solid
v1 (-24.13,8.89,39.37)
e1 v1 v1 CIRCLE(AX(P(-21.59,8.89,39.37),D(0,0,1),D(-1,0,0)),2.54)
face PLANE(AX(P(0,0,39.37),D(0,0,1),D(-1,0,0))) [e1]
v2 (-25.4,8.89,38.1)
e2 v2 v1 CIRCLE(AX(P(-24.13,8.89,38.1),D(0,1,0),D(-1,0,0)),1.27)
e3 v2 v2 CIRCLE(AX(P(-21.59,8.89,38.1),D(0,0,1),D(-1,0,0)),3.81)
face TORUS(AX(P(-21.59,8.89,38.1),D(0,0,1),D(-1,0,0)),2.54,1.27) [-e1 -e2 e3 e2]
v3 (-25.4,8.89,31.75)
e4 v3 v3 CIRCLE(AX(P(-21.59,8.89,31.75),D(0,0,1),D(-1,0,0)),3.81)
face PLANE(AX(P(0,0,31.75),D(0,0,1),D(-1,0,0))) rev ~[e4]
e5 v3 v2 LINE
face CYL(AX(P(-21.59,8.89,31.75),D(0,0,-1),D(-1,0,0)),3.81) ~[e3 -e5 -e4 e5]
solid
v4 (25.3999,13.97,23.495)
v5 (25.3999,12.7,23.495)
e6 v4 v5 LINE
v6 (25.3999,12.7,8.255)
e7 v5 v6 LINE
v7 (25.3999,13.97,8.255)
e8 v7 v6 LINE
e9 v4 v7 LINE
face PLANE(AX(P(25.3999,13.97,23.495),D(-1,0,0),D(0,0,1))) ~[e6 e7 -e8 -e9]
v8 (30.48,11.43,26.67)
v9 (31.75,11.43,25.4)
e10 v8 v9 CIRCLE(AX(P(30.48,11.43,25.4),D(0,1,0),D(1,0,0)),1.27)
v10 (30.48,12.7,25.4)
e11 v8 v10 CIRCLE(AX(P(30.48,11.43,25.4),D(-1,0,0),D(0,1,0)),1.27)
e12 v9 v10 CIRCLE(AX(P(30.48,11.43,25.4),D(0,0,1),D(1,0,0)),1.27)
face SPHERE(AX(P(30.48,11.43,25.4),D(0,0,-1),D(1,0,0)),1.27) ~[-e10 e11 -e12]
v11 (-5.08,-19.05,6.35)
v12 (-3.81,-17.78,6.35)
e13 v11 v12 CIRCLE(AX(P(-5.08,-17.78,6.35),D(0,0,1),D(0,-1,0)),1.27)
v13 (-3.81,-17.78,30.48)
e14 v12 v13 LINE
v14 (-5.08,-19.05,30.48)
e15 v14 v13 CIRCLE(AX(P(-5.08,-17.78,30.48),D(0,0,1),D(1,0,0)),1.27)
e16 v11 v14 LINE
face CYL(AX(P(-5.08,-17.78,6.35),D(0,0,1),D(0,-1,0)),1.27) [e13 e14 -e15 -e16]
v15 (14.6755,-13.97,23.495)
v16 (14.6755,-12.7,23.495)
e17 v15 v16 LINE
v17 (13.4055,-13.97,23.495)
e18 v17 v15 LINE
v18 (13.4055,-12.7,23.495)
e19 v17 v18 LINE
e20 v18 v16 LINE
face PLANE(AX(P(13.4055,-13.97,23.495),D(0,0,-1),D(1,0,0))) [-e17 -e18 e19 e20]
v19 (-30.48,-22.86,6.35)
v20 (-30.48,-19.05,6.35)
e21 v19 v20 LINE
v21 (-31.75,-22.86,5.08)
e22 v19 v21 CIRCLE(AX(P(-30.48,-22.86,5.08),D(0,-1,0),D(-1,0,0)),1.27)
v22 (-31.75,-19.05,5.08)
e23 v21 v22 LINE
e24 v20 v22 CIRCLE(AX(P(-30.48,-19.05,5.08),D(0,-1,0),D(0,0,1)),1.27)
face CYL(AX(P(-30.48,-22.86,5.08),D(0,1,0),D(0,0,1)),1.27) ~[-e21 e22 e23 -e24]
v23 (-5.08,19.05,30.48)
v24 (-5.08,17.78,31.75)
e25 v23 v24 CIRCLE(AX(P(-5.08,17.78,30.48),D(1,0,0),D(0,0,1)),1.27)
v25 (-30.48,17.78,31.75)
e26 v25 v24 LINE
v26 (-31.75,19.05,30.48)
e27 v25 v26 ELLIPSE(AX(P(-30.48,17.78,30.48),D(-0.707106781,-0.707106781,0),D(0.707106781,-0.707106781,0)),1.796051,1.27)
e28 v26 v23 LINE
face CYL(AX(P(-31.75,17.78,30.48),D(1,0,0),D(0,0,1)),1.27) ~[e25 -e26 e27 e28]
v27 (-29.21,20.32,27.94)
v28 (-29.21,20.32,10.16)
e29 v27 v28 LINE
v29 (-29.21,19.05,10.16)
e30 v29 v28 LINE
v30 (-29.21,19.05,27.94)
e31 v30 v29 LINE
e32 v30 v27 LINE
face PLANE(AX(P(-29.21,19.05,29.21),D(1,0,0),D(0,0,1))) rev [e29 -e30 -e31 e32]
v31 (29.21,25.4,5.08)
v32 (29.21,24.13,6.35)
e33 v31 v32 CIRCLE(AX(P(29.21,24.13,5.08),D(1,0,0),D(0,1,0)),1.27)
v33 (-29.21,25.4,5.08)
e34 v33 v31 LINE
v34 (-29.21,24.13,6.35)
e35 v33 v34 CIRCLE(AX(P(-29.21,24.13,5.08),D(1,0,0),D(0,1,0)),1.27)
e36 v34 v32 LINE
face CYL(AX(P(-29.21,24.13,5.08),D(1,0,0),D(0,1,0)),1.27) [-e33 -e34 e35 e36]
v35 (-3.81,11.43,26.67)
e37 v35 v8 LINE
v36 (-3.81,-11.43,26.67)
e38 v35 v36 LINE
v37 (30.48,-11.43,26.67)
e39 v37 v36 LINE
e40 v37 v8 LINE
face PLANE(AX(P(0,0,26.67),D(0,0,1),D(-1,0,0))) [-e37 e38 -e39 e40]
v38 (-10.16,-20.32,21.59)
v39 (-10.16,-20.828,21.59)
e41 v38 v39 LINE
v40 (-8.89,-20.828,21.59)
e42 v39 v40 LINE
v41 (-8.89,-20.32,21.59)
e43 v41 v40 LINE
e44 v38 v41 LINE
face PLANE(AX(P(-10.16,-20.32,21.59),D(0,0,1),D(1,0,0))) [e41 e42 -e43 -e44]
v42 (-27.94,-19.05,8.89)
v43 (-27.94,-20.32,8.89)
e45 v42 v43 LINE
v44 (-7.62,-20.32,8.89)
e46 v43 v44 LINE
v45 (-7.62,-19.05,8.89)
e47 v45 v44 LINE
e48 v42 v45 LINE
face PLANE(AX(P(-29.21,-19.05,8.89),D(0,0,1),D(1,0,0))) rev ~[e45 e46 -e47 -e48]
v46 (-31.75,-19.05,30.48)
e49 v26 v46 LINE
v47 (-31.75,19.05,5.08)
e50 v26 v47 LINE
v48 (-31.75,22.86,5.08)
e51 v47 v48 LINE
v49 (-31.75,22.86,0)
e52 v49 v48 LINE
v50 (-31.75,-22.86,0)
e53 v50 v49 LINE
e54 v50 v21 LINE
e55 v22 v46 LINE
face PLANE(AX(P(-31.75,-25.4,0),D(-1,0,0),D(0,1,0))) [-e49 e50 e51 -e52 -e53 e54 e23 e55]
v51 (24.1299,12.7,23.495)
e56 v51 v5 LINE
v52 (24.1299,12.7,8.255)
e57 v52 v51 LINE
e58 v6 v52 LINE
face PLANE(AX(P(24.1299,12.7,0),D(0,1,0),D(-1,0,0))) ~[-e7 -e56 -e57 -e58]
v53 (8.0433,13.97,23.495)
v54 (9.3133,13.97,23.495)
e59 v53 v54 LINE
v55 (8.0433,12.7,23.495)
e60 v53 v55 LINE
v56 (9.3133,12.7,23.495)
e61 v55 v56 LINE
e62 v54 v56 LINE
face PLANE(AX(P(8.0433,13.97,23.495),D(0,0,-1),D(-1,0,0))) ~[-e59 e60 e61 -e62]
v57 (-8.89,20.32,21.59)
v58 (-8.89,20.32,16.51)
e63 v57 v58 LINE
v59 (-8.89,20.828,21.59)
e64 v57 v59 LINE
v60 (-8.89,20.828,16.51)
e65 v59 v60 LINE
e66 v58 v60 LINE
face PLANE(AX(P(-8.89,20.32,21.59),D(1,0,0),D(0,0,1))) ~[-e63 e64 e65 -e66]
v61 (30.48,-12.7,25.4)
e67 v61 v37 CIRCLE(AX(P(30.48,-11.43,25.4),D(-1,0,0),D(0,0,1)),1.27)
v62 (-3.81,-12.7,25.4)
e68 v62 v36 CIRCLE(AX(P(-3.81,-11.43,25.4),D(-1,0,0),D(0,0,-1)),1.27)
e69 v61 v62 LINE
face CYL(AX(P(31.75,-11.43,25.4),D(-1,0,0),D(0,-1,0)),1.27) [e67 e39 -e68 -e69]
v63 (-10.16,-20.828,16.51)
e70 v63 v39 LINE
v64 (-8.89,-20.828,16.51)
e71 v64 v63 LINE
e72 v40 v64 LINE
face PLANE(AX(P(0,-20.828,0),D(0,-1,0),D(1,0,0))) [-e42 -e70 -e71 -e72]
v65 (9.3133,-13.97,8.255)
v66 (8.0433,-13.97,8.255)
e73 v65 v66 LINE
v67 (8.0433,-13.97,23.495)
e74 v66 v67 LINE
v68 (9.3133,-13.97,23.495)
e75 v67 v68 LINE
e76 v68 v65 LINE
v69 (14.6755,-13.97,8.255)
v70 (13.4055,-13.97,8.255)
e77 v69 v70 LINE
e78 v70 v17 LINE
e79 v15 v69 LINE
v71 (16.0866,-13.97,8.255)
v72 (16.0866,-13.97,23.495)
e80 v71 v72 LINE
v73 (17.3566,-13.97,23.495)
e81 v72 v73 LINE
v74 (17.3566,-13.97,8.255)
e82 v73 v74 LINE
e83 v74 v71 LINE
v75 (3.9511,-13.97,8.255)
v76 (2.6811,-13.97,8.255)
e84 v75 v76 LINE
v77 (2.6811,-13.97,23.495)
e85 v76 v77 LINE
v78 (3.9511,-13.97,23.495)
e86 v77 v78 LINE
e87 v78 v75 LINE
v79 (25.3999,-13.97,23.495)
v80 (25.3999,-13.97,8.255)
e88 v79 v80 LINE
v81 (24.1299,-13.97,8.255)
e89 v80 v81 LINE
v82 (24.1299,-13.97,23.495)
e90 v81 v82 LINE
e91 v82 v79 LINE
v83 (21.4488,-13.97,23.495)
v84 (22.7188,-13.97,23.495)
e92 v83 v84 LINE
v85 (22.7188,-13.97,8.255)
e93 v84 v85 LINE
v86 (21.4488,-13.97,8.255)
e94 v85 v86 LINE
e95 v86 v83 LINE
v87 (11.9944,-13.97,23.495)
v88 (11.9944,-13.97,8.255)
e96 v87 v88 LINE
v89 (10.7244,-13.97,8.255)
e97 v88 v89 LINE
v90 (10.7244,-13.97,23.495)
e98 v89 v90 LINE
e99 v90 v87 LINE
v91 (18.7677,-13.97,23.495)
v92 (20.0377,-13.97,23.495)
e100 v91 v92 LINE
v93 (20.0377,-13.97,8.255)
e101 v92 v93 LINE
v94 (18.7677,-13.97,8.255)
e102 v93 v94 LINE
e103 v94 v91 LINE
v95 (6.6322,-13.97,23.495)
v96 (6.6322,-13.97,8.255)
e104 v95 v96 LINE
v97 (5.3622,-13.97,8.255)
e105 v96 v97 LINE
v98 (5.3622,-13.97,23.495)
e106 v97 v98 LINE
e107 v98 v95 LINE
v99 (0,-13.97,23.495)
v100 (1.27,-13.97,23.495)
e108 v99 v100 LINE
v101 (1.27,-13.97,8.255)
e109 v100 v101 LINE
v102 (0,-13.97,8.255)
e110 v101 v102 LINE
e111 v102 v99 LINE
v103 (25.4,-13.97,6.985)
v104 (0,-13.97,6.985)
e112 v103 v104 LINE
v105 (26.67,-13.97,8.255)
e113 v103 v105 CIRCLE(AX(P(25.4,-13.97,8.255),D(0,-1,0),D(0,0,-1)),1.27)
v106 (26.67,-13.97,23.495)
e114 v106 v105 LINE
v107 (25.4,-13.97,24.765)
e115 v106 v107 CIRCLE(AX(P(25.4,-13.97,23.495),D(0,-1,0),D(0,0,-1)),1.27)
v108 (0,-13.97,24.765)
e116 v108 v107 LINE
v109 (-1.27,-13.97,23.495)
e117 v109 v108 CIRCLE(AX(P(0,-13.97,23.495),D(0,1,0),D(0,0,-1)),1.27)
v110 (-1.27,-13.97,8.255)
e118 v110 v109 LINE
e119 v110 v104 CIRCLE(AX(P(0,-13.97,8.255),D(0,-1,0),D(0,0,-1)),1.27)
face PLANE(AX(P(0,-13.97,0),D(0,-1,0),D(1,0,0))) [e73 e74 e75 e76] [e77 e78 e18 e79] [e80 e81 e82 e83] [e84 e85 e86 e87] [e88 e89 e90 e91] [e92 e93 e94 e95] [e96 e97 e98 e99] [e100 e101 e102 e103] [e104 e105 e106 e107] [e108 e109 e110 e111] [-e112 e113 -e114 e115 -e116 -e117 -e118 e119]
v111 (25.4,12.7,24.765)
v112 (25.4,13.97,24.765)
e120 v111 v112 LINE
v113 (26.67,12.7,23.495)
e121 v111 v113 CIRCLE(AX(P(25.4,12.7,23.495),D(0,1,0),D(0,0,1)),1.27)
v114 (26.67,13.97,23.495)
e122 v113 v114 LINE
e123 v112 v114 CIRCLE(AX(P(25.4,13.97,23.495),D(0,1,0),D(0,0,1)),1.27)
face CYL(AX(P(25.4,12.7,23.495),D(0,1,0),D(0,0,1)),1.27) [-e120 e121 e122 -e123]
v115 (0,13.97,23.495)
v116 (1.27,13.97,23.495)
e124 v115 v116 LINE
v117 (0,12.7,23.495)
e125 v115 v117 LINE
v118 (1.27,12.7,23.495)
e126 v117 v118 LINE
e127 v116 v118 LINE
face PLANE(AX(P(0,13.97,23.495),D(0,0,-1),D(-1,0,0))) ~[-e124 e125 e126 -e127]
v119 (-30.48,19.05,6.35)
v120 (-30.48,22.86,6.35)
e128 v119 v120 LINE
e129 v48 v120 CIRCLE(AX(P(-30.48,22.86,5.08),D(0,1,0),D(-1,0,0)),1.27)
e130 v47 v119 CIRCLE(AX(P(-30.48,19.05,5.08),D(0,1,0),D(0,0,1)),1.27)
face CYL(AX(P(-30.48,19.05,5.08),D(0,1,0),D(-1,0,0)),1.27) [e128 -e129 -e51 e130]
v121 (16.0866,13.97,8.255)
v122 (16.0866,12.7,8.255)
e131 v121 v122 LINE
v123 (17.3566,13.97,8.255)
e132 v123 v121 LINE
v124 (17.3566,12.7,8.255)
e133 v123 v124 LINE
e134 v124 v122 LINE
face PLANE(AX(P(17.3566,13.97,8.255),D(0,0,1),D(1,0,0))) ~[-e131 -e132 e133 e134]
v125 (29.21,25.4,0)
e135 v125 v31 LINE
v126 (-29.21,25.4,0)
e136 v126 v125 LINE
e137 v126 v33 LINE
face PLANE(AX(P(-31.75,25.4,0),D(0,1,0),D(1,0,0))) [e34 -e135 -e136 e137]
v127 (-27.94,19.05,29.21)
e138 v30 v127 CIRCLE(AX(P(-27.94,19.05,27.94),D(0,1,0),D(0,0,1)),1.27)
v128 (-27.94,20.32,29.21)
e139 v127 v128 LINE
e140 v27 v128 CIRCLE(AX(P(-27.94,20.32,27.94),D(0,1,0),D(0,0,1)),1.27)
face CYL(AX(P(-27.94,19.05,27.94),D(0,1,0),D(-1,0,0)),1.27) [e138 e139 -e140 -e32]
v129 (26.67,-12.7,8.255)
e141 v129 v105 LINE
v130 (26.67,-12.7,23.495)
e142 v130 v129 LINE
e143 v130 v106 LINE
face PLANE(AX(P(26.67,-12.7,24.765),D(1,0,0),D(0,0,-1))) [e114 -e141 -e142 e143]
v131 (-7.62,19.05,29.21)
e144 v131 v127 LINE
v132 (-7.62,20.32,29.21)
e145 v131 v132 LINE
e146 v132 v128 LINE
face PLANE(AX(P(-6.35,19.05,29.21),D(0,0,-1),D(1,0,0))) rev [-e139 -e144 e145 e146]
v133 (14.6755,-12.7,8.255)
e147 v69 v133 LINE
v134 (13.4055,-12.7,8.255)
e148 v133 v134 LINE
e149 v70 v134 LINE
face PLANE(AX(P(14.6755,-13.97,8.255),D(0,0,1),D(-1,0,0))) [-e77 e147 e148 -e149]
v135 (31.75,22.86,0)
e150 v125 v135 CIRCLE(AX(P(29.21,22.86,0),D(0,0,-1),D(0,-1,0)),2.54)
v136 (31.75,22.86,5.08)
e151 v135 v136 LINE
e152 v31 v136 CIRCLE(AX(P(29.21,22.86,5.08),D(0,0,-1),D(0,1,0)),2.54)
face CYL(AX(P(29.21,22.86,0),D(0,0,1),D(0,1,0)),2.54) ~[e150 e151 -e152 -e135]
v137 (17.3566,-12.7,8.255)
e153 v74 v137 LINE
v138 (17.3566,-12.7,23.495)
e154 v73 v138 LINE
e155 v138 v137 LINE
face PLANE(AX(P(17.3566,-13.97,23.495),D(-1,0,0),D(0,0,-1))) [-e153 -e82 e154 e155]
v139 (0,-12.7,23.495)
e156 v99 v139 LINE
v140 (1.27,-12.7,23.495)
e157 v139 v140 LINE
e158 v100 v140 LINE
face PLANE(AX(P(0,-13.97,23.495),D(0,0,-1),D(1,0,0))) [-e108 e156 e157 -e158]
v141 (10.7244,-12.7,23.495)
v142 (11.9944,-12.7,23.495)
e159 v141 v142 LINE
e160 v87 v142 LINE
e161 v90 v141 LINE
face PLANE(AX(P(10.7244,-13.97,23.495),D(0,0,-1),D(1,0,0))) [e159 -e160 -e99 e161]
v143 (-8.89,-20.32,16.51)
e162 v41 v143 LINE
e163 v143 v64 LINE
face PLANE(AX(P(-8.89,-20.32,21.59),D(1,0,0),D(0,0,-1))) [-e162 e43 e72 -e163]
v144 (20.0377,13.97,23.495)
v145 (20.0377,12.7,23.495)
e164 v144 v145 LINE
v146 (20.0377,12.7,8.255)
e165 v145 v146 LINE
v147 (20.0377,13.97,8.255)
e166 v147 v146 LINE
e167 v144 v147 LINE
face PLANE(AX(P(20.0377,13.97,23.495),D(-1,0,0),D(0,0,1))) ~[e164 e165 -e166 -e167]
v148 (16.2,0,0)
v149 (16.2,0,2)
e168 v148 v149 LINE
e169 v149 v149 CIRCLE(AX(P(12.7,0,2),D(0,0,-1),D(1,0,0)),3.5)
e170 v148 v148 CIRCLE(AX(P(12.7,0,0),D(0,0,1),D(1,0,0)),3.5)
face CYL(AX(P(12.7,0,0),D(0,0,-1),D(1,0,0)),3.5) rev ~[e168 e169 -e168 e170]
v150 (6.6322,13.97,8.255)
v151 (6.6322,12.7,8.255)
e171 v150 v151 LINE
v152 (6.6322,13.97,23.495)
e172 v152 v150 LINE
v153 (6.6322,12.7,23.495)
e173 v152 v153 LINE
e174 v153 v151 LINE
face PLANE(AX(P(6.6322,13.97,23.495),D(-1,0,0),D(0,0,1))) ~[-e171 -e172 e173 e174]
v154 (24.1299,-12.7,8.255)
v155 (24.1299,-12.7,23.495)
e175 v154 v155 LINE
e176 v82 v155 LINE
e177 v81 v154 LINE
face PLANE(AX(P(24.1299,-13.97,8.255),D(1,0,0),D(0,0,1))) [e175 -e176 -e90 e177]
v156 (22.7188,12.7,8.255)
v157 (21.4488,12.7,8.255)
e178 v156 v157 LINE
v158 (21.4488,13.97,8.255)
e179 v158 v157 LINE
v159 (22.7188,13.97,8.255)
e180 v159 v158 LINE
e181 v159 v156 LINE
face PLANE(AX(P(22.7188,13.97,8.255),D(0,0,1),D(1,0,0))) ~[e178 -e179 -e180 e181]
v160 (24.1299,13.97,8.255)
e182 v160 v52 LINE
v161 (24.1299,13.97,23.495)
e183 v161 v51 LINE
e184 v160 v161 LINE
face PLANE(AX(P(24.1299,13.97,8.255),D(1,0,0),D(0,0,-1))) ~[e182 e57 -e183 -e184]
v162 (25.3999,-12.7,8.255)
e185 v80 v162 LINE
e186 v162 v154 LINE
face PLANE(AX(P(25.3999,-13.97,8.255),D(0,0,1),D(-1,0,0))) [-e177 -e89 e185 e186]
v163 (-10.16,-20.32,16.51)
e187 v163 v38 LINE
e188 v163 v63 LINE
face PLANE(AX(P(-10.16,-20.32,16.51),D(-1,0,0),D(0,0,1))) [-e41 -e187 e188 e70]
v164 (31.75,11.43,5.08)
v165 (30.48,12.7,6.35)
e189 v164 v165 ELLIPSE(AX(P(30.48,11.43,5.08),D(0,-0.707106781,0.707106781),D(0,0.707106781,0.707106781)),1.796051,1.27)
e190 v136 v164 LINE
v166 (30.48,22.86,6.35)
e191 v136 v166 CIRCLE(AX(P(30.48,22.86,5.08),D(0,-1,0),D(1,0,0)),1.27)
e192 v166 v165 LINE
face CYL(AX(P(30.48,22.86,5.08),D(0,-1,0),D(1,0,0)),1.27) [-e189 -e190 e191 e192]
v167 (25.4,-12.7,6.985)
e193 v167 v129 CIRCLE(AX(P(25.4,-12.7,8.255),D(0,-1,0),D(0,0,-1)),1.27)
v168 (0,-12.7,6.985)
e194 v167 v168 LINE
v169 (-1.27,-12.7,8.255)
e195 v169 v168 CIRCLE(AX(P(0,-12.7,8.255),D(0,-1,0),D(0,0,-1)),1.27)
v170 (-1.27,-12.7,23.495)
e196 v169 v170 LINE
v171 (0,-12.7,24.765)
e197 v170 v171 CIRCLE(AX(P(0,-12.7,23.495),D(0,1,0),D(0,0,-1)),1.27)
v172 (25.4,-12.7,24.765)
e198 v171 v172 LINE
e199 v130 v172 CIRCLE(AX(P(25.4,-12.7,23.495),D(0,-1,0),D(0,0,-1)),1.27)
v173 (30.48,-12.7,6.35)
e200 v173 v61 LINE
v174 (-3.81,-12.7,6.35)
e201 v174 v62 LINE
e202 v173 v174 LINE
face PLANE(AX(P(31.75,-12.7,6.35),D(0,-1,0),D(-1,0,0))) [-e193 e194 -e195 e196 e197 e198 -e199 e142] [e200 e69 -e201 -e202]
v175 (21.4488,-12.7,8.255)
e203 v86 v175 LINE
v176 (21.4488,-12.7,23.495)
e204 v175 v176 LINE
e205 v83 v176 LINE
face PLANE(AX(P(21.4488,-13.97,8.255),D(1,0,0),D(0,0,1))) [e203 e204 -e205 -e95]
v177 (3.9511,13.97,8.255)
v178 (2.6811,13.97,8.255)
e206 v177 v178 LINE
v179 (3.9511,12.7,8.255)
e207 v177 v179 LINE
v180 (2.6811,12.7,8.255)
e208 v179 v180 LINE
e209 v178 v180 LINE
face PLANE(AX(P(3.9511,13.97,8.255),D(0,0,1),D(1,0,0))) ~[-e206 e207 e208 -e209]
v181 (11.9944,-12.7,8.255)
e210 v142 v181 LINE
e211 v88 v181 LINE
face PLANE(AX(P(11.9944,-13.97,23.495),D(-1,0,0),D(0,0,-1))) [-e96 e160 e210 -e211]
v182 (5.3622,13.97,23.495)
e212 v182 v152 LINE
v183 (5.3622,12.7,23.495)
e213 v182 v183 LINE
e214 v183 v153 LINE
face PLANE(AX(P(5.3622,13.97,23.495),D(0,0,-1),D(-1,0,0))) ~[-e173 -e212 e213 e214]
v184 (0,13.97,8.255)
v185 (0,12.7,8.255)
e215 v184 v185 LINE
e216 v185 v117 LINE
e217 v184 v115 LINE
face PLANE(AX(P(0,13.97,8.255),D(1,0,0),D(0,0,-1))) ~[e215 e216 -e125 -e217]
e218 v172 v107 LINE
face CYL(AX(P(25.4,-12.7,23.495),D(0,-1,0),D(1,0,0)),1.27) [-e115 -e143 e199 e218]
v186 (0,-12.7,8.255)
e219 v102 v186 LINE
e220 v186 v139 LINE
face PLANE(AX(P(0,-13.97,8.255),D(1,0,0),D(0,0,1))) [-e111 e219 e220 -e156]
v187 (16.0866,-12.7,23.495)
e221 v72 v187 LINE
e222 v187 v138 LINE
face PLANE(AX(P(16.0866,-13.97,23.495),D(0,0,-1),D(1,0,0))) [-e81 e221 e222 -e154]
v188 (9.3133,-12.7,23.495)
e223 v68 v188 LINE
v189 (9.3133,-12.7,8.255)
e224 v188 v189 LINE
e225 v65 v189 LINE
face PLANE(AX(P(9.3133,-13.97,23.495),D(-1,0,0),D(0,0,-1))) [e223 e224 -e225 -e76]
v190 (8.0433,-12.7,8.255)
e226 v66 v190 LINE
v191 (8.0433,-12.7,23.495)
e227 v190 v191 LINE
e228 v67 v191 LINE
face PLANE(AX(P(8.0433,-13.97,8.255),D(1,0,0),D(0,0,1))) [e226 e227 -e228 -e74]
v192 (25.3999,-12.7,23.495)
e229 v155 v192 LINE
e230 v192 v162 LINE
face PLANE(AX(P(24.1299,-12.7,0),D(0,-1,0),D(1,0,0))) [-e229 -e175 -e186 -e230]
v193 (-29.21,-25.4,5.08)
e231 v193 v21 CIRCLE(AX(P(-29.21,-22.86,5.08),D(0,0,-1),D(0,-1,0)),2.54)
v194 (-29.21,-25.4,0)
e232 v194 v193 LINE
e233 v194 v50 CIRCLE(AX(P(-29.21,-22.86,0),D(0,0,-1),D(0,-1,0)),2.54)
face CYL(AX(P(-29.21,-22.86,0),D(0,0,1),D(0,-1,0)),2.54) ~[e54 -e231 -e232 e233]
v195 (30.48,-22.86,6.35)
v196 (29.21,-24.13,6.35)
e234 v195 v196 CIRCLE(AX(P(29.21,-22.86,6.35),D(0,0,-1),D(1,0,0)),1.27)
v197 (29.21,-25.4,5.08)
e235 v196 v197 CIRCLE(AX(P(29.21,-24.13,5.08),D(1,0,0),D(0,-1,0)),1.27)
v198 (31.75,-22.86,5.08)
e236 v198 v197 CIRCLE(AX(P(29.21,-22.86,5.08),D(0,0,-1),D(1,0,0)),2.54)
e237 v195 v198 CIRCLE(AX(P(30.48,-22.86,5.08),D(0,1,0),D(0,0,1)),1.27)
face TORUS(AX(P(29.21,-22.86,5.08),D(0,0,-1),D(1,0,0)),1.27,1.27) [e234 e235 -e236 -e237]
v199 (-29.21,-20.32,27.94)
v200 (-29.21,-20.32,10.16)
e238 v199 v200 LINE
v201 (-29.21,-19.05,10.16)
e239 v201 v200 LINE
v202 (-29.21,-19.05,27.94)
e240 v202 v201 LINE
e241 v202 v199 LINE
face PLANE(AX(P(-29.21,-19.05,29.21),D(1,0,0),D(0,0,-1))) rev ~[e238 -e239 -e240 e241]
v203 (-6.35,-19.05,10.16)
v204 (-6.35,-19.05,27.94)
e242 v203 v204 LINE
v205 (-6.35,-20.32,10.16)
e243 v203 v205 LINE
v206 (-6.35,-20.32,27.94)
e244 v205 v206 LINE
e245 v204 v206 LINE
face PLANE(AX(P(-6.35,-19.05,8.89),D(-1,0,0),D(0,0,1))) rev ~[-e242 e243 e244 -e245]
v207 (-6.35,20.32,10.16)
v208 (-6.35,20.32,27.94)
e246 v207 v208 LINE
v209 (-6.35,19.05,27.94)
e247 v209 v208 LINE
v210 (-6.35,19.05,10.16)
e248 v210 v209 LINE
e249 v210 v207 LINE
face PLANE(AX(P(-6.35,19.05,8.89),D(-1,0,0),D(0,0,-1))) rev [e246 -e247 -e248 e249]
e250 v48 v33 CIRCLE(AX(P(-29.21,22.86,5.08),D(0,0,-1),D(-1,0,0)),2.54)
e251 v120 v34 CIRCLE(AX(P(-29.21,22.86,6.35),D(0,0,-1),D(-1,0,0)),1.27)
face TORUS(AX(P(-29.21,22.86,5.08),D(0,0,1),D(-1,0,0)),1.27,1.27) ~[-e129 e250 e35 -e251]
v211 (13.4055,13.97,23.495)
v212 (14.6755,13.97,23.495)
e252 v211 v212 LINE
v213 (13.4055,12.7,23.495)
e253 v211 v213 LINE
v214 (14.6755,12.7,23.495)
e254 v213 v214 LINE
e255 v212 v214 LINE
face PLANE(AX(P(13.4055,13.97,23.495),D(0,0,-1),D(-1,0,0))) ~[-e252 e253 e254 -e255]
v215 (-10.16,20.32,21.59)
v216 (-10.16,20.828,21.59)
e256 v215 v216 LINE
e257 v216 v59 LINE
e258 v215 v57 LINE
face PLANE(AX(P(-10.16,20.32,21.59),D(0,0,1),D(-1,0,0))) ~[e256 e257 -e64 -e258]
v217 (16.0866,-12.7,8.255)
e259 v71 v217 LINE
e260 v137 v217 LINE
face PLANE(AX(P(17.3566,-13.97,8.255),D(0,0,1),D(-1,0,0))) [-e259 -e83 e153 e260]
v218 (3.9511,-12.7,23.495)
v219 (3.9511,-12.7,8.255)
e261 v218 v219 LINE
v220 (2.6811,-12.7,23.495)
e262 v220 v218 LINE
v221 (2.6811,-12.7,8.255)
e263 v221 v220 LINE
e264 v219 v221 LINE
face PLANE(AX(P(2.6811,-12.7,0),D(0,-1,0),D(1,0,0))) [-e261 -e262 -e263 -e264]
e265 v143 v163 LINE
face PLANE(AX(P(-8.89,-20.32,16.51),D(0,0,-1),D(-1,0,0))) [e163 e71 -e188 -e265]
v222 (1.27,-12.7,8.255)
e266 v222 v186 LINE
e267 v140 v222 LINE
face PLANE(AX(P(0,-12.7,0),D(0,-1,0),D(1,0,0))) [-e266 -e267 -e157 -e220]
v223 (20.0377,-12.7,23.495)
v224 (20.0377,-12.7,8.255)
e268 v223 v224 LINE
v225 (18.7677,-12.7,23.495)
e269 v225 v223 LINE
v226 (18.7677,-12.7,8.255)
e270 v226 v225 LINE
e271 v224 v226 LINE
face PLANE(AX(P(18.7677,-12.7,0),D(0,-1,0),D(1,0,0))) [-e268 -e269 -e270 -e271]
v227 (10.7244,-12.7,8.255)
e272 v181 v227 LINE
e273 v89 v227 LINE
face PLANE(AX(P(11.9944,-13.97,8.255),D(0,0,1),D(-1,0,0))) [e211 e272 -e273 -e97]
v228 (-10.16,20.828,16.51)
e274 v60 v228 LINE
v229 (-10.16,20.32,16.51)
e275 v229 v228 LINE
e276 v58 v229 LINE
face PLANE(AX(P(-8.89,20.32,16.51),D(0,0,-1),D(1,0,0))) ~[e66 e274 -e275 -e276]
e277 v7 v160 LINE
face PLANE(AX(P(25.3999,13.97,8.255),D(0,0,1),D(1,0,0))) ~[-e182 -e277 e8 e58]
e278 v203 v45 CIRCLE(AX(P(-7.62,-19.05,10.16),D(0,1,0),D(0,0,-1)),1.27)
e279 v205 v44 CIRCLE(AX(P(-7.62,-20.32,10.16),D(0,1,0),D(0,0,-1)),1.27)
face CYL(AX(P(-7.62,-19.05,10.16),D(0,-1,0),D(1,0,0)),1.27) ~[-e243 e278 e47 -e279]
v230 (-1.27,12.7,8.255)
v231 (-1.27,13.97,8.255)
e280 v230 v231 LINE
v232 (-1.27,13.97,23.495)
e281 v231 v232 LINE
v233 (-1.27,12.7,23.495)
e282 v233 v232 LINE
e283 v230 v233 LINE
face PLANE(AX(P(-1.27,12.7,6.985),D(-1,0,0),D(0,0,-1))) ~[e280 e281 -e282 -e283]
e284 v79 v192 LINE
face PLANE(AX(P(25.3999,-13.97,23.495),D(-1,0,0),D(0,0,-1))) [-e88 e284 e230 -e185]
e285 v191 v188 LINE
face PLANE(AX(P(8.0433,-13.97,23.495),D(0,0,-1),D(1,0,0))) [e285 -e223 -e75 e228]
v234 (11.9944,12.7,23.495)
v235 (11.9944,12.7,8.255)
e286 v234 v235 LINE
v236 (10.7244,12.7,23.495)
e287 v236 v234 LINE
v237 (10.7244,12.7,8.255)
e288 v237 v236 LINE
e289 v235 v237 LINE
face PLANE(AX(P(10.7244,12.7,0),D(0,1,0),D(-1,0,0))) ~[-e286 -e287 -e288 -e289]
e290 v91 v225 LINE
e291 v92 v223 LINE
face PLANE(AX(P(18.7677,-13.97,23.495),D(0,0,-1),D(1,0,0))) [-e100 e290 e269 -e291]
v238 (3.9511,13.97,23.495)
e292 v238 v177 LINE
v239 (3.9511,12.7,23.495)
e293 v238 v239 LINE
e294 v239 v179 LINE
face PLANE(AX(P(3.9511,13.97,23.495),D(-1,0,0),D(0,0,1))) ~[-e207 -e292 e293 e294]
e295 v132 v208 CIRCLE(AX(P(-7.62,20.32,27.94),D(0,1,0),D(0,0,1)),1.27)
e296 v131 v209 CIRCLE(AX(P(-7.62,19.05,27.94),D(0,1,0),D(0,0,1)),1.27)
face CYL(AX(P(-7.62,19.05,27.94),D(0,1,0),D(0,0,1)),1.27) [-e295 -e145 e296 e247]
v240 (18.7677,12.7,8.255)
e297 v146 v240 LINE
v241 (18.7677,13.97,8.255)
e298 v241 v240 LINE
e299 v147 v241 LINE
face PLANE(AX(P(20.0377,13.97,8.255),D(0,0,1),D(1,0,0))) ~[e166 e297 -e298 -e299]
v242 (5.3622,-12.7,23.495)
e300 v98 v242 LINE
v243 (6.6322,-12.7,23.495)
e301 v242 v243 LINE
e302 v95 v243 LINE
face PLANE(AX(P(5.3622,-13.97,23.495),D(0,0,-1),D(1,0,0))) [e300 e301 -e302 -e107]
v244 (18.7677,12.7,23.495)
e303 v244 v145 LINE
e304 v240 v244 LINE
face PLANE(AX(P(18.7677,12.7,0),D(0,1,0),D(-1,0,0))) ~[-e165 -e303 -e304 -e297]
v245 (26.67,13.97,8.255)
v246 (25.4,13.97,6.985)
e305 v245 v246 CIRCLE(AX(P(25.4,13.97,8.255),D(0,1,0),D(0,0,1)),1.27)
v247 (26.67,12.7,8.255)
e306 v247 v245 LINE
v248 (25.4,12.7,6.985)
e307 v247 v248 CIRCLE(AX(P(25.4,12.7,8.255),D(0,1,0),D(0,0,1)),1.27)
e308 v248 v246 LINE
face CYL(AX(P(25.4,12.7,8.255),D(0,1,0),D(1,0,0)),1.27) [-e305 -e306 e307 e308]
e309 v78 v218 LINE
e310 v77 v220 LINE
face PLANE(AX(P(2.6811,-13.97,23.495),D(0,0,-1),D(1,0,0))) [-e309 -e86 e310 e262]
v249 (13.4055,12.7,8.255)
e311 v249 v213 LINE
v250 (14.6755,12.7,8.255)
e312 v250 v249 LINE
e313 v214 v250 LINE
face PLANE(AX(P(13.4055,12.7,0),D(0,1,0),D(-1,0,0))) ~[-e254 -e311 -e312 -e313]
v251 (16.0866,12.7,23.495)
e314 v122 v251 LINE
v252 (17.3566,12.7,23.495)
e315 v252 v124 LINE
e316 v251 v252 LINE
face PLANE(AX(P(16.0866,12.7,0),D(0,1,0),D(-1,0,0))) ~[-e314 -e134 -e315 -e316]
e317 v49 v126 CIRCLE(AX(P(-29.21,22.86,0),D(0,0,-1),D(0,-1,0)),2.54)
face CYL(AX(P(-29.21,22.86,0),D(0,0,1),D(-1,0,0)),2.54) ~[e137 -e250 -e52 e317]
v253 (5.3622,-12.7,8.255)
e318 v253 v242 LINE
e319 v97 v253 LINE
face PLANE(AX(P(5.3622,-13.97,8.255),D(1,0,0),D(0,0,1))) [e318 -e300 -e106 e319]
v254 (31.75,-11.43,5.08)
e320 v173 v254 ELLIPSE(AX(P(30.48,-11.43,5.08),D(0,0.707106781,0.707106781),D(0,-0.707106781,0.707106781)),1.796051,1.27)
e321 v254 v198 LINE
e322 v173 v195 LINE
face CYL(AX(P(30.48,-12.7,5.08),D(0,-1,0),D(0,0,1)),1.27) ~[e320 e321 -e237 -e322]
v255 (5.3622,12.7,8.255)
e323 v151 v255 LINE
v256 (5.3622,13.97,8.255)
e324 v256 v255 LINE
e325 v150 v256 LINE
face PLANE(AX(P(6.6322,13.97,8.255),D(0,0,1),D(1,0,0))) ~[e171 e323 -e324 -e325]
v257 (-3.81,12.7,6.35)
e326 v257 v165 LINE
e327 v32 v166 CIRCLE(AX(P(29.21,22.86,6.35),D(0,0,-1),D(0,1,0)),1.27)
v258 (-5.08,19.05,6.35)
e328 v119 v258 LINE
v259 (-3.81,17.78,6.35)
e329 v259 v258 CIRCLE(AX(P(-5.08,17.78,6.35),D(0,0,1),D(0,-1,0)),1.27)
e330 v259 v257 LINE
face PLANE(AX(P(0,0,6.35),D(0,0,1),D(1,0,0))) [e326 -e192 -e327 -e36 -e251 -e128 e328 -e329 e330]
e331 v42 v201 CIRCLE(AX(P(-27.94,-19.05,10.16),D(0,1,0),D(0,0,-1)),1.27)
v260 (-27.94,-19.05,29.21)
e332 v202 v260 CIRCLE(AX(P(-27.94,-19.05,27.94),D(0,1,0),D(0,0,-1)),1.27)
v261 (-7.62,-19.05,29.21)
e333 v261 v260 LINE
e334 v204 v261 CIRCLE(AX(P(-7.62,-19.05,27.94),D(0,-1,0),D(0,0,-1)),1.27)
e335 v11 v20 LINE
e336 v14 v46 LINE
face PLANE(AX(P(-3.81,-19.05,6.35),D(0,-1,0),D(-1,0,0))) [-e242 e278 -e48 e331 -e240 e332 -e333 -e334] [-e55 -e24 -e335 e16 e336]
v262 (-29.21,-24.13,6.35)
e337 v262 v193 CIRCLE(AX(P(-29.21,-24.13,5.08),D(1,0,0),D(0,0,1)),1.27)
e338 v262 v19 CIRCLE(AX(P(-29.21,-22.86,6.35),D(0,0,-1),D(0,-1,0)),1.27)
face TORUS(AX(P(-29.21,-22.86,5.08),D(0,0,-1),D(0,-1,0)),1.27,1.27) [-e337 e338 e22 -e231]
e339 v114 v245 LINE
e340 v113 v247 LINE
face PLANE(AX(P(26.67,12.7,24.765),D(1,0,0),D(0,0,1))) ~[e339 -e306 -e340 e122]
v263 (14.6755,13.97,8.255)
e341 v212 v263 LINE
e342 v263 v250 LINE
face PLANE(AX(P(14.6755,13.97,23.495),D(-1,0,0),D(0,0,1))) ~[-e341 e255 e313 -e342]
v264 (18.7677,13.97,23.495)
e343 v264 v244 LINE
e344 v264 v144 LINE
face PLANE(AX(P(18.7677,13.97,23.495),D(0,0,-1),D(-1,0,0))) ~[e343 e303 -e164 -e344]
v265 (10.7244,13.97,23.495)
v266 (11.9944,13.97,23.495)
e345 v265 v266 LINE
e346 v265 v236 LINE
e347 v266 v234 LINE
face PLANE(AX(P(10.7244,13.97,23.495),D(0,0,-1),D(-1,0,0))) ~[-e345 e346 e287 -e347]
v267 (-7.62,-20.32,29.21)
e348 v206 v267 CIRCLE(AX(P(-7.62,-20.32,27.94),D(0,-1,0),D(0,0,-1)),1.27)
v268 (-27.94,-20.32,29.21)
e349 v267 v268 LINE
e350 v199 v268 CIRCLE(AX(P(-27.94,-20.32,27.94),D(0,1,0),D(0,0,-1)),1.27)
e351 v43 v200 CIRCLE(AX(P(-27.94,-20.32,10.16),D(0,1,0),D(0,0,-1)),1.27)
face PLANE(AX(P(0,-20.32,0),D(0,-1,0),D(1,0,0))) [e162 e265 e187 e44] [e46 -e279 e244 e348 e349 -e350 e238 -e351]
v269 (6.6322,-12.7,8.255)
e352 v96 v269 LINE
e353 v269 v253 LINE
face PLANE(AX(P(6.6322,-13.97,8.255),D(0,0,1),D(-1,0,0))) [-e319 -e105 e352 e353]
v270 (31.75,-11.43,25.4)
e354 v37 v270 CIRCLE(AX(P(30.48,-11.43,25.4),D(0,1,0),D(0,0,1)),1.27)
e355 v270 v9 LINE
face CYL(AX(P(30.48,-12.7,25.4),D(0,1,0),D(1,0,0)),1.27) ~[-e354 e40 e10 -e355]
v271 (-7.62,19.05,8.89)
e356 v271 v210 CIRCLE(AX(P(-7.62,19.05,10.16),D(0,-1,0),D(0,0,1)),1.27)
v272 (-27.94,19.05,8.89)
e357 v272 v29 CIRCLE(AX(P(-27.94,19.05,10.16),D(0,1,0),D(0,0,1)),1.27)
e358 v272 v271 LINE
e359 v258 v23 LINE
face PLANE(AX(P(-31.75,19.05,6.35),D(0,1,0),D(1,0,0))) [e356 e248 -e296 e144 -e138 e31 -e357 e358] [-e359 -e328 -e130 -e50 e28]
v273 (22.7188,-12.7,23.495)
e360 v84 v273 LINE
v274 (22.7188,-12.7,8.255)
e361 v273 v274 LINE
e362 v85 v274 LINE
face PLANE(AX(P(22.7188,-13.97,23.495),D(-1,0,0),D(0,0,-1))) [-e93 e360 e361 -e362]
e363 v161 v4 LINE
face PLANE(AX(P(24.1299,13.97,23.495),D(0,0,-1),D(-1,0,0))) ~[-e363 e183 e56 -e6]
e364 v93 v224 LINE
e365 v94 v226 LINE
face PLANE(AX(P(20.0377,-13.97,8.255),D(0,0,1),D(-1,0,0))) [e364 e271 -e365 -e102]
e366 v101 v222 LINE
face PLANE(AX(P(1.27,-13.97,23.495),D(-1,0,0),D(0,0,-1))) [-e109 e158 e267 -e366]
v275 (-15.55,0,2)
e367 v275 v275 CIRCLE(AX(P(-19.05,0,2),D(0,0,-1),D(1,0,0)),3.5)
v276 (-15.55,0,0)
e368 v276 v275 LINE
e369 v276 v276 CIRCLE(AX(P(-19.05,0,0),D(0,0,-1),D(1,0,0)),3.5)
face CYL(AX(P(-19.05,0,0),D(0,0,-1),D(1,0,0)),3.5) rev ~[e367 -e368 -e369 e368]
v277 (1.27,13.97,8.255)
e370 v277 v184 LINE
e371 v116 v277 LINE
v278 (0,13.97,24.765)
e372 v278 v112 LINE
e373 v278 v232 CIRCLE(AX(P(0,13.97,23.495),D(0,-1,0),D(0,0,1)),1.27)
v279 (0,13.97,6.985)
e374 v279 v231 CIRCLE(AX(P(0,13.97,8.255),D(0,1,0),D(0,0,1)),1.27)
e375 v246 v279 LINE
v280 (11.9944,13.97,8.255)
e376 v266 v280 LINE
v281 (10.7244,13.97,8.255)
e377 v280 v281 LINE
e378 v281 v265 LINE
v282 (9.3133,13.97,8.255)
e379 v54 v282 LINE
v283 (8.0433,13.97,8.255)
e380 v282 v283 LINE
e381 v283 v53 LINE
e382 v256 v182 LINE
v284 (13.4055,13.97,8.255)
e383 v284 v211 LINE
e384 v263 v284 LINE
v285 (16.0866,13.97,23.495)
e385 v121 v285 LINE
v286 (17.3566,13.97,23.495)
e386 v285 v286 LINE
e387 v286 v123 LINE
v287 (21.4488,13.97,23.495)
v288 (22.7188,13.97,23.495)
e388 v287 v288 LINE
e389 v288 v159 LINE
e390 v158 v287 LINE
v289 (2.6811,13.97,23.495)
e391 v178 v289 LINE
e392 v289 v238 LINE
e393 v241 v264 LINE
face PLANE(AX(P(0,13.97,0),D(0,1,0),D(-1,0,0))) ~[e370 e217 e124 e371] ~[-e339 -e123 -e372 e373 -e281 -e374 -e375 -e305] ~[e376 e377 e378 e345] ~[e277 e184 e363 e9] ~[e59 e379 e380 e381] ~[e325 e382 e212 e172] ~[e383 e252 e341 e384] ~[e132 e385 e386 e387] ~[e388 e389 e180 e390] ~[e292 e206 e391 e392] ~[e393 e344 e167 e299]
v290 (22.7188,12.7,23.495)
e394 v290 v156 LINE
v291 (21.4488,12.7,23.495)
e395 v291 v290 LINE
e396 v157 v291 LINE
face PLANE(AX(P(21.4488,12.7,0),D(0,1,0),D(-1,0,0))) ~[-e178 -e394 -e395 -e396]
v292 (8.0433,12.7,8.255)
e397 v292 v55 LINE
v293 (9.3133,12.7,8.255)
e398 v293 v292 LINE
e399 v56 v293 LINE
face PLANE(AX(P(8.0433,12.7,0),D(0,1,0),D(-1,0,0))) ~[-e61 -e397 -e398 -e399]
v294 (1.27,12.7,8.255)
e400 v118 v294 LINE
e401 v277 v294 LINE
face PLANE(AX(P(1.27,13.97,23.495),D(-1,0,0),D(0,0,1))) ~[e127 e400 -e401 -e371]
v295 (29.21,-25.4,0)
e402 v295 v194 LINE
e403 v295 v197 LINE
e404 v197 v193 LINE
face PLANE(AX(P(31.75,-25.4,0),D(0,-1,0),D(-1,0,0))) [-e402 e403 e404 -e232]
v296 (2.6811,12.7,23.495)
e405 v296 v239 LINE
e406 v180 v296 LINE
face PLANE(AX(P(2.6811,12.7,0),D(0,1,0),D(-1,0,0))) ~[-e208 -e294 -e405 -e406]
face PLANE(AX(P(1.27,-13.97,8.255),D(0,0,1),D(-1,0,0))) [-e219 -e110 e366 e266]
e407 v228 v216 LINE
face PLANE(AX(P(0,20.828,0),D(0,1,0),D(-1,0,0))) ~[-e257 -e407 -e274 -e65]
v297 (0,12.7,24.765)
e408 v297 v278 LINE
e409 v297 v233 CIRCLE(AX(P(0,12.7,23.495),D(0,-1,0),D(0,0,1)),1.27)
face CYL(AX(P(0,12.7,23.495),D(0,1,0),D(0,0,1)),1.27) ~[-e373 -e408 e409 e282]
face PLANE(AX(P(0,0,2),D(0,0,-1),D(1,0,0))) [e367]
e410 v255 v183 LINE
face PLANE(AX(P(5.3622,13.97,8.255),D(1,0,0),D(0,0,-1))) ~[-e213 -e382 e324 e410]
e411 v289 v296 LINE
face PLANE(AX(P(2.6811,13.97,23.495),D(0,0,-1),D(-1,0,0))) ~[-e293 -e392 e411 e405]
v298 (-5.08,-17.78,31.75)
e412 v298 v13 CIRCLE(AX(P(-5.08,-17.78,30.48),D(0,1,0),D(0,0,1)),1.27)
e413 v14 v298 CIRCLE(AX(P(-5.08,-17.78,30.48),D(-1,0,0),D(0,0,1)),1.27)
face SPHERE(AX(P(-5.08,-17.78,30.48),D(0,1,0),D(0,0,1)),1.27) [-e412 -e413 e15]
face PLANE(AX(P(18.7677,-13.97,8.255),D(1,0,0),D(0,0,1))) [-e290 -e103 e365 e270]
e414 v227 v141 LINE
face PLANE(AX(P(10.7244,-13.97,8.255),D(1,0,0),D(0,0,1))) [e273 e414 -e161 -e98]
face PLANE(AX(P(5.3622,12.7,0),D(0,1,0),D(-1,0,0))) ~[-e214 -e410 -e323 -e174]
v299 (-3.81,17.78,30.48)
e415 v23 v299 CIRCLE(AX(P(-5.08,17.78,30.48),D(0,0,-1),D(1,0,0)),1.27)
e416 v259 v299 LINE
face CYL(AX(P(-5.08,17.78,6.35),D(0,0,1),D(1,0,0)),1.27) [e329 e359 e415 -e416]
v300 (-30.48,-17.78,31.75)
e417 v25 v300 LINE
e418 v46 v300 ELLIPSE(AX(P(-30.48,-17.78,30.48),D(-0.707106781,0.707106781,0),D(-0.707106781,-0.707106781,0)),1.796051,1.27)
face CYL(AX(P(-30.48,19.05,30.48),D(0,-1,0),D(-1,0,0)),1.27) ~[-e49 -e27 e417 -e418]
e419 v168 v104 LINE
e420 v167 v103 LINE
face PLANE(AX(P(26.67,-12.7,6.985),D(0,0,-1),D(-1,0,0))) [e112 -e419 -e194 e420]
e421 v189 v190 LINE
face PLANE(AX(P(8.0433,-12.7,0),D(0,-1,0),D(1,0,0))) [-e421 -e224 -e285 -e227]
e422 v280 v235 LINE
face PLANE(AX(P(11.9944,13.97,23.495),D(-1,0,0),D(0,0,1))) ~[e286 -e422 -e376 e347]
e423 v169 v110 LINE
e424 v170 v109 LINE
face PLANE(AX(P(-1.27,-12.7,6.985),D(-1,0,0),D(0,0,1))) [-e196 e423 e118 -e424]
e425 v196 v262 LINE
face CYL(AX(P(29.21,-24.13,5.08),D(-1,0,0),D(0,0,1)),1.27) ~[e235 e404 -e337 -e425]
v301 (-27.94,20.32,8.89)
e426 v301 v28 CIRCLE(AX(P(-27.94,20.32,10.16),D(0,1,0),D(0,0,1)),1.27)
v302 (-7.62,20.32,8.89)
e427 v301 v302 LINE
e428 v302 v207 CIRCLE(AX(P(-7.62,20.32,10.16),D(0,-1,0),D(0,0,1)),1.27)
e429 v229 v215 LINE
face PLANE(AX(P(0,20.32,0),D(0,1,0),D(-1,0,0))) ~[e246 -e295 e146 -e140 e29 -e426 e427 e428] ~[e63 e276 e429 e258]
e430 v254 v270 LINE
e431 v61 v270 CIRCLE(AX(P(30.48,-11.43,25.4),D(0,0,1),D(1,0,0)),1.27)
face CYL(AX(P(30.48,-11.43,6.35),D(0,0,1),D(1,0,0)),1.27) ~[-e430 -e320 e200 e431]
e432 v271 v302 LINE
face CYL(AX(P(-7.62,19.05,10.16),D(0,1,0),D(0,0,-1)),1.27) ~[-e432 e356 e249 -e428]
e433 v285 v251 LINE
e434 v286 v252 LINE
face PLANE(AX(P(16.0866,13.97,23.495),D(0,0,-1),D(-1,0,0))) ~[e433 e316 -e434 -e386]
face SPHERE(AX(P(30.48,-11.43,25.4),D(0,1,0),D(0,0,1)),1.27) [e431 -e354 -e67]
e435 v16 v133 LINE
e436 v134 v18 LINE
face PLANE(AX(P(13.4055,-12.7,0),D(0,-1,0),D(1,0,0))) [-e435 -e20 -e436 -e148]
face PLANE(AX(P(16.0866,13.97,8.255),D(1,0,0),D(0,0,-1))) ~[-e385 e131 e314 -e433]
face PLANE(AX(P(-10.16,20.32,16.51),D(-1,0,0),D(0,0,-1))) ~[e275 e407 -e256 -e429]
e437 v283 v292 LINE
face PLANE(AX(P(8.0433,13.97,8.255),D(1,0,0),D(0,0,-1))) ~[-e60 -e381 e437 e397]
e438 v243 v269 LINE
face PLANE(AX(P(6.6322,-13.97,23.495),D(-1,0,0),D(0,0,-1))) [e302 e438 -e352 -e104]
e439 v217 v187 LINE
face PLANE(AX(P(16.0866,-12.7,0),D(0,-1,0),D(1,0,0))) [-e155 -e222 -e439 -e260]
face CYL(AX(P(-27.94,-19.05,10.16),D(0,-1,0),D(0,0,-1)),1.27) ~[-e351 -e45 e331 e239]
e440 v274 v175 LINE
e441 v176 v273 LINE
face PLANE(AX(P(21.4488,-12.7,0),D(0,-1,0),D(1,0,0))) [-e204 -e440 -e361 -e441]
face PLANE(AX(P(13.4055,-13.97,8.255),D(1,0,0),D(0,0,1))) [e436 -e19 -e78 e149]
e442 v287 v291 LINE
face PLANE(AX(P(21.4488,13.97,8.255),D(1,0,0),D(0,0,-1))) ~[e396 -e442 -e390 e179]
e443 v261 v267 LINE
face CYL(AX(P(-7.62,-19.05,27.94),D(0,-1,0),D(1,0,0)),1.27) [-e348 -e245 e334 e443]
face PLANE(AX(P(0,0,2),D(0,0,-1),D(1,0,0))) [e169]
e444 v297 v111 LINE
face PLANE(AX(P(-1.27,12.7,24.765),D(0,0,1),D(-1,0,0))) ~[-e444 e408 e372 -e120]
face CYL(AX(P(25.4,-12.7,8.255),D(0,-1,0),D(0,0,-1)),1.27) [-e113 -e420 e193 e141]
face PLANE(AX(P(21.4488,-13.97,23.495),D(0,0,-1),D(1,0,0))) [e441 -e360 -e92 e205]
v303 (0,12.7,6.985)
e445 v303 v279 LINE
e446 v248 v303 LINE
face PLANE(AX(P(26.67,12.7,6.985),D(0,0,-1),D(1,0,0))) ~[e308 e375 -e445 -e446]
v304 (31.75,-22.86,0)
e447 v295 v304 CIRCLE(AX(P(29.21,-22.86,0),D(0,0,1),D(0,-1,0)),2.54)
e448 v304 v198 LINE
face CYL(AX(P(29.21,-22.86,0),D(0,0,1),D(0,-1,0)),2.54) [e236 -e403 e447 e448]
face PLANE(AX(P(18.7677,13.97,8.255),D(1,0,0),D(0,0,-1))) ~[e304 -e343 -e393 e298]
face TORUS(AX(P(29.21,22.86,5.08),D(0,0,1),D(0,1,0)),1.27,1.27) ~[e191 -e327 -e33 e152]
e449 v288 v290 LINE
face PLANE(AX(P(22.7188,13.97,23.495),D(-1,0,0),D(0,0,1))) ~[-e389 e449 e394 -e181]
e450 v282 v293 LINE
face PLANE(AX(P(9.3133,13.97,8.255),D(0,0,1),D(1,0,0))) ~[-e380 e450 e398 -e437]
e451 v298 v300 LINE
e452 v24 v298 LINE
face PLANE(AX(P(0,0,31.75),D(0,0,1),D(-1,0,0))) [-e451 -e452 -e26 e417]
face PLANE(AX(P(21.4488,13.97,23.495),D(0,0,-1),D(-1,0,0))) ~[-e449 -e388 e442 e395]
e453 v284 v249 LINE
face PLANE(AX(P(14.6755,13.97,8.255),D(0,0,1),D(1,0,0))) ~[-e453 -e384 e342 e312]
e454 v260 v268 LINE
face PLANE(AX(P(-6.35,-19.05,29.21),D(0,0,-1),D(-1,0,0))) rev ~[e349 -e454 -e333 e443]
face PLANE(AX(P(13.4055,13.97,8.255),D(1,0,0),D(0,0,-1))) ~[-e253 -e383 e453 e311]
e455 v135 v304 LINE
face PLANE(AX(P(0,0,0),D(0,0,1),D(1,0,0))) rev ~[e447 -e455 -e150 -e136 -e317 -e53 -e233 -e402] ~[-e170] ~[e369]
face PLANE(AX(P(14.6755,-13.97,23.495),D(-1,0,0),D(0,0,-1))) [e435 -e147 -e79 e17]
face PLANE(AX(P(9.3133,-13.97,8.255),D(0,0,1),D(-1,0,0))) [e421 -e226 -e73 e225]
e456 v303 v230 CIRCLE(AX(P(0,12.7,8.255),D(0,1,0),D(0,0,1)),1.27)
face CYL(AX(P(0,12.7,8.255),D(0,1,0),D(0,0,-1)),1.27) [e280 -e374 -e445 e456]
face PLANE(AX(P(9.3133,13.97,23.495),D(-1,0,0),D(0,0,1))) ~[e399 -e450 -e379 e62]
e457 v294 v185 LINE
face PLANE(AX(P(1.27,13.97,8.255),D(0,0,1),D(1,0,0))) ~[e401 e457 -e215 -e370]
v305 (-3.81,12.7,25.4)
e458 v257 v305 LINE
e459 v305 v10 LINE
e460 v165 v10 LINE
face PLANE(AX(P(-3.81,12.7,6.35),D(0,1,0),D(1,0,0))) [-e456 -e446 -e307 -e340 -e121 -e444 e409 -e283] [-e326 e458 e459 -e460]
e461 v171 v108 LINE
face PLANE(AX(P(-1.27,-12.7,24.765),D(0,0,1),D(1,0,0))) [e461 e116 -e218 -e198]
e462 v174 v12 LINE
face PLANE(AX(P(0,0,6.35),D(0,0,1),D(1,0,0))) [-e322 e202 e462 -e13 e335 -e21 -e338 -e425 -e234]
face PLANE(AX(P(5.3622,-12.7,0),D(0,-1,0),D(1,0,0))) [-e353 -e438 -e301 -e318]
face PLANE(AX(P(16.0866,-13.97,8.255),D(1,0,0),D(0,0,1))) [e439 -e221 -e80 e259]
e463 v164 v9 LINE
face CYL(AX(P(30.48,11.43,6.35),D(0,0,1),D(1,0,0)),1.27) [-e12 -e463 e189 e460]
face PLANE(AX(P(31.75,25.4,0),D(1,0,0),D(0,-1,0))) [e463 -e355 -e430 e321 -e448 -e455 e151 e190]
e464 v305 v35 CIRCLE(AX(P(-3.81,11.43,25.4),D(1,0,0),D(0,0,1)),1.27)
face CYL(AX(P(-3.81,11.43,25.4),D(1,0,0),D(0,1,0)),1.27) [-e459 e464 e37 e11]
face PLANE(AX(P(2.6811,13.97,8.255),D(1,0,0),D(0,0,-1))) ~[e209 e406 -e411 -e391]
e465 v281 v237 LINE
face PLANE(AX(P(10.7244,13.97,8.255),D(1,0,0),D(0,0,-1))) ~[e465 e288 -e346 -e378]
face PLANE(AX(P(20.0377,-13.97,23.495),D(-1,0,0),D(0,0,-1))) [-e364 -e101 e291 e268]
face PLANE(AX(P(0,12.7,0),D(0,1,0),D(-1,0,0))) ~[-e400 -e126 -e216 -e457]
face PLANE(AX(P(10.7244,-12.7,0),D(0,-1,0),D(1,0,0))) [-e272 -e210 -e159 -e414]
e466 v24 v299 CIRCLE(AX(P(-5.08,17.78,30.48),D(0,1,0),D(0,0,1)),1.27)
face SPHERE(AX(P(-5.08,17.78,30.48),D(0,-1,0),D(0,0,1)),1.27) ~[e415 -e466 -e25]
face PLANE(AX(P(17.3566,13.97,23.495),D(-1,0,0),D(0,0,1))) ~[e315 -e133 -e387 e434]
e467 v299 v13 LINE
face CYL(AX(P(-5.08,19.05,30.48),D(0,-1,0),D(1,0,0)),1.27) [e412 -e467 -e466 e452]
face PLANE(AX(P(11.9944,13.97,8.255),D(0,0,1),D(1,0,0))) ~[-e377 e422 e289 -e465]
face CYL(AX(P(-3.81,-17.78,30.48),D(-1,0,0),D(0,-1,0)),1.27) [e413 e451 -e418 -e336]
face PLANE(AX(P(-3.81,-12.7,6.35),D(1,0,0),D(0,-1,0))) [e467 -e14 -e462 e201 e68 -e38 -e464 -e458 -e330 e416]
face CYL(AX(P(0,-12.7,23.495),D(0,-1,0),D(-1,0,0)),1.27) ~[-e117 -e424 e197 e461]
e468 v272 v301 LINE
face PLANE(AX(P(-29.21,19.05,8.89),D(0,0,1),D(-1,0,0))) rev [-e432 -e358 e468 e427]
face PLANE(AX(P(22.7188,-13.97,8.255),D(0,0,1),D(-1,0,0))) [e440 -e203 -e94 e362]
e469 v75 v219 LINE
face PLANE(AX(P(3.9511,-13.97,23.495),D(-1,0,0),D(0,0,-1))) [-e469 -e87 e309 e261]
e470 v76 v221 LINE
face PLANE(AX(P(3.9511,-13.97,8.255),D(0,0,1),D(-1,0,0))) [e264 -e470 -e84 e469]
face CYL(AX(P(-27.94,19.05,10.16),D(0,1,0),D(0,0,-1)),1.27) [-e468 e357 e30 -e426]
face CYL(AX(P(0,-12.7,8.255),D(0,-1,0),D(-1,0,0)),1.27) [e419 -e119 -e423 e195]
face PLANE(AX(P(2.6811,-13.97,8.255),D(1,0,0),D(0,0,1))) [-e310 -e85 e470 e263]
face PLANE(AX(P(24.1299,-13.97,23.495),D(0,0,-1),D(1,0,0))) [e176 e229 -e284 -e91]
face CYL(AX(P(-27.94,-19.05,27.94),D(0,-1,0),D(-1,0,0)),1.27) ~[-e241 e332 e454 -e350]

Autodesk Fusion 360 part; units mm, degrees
sketch "Sketch1" plane through (0, 0, 0) normal (0, 0, 1) x (1, 0, 0)
  line L0 (31.75, -25.4) -> (-31.75, -25.4)
  line L1 (-31.75, -25.4) -> (-31.75, 25.4)
  line L2 (-31.75, 25.4) -> (31.75, 25.4)
  line L3 (31.75, 25.4) -> (31.75, -25.4)
  line L4 (31.75, -25.4) -> (-31.75, 25.4) construction
  line L5 (-31.75, -25.4) -> (31.75, 25.4) construction
  dimension "d1" = 63.5
  dimension "d2" = 50.8
extrude "Extrude1" add sketch "Sketch1" along normal blind 6.35 makes body 1
fillet "Fillet1" radius 2.54 4 edges at (-31.75, -25.4, 3.175) (31.75, -25.4, 3.175) (31.75, 25.4, 3.175) (-31.75, 25.4, 3.175) on bodies 1
sketch "Sketch2" plane through (0, 0, 0) normal (0, 0, -1) x (1, 0, 0)
  arc A0 (-31.75, -22.86) -> (-29.21, -25.4) centre (-29.21, -22.86) ccw
  line L0 (-29.21, -25.4) -> (29.21, -25.4)
  arc A1 (29.21, -25.4) -> (31.75, -22.86) centre (29.21, -22.86) ccw
  line L1 (31.75, -22.86) -> (31.75, 22.86)
  arc A2 (31.75, 22.86) -> (29.21, 25.4) centre (29.21, 22.86) ccw
  line L2 (29.21, 25.4) -> (-29.21, 25.4)
  arc A3 (-29.21, 25.4) -> (-31.75, 22.86) centre (-29.21, 22.86) ccw
  line L3 (-31.75, 22.86) -> (-31.75, -22.86)
  circle A4 centre (-19.05, 0) radius 3.5
  circle A5 centre (12.7, 0) radius 3.5
  line L4 (-46.2763, 0) -> (48.8839, 0) construction
  line L5 (1.75, 0) -> (22.5, 0)
  dimension "d7" = 7
  dimension "d8" = 7
  dimension "d9" = 19.05
  dimension "d10" = 50.8
extrude "Extrude2" cut sketch "Sketch2" against normal blind 2 contours A4 | A5 L5 | A5 L5 bodies 1
sketch "Sketch3" plane through (0, 0, 6.35) normal (0, 0, 1) x (-1, 0, 0)
  arc A0 (29.21, -25.4) -> (31.75, -22.86) centre (29.21, -22.86) ccw
  line L0 (31.75, -22.86) -> (31.75, 22.86)
  arc A1 (31.75, 22.86) -> (29.21, 25.4) centre (29.21, 22.86) ccw
  line L1 (29.21, 25.4) -> (-29.21, 25.4)
  arc A2 (-29.21, 25.4) -> (-31.75, 22.86) centre (-29.21, 22.86) ccw
  line L2 (-31.75, 22.86) -> (-31.75, -22.86)
  arc A3 (-31.75, -22.86) -> (-29.21, -25.4) centre (-29.21, -22.86) ccw
  line L3 (-29.21, -25.4) -> (29.21, -25.4)
  line L4 (31.75, -19.05) -> (3.81, -19.05)
  line L5 (3.81, -19.05) -> (3.81, 19.05)
  line L6 (3.81, 19.05) -> (31.75, 19.05)
  line L7 (31.75, 19.05) -> (31.75, -19.05)
  line L8 (3.81, -12.7) -> (-31.75, -12.7)
  line L9 (-31.75, -12.7) -> (-31.75, 12.7)
  line L10 (-31.75, 12.7) -> (3.81, 12.7)
  line L11 (3.81, 12.7) -> (3.81, -12.7)
  dimension "d13" = 6.35
  dimension "d14" = 6.35
  dimension "d15" = 12.7
  dimension "d16" = 12.7
  dimension "d17" = 35.56
extrude "Extrude3" add sketch "Sketch3" along normal blind 25.4 contours L0 L4 L5 L6 L7 L11 bodies 1
extrude "Extrude4" add sketch "Sketch3" along normal blind 20.32 contours L2 L5 L8 L9 L10 L11 bodies 1
sketch "Sketch5" plane through (0, -12.7, 0) normal (0, -1, 0) x (1, 0, 0)
  line L0 (-3.81, 6.35) -> (31.75, 6.35)
  line L1 (31.75, 6.35) -> (31.75, 26.67)
  line L2 (31.75, 26.67) -> (-3.81, 26.67)
  line L3 (-3.81, 26.67) -> (-3.81, 6.35)
  line L4 (-1.27, 24.765) -> (26.67, 24.765)
  line L5 (26.67, 24.765) -> (26.67, 6.985)
  line L6 (26.67, 6.985) -> (-1.27, 6.985)
  line L7 (-1.27, 6.985) -> (-1.27, 24.765)
  dimension "d24" = 1.905
  dimension "d26" = 2.54
  dimension "d27" = 5.08
  dimension "d78" = 17.78
extrude "Extrude5" add sketch "Sketch5" along normal blind 1.27 contours L4 L5 L6 L7 bodies 1
sketch "Sketch6" plane through (0, -13.97, 0) normal (0, -1, 0) x (1, 0, 0)
  line L0 (-1.27, 6.985) -> (26.67, 6.985)
  line L1 (26.67, 6.985) -> (26.67, 24.765)
  line L2 (26.67, 24.765) -> (-1.27, 24.765)
  line L3 (-1.27, 24.765) -> (-1.27, 6.985)
  line L4 (0, 23.495) -> (1.27, 23.495)
  line L5 (1.27, 23.495) -> (1.27, 8.255)
  line L6 (1.27, 8.255) -> (0, 8.255)
  line L7 (0, 8.255) -> (0, 23.495)
  dimension "d30" = 1.27
  dimension "d31" = 1.27
  dimension "d32" = 1.27
  dimension "d33" = 1.27
extrude "Extrude6" cut sketch "Sketch6" against normal blind 1.27 contours L4 L5 L6 L7 bodies 1
pattern_linear "R-Pattern1" count 10 spacing 2.6811 along (1, 0, 0) of "Extrude6"
mirror "Mirror1" about plane through (0, 0, 0) normal (0, 1, 0) of "Extrude5"
mirror "Mirror2" about plane through (0, 0, 0) normal (0, 1, 0) of "R-Pattern1"
mirror "Mirror3" about plane through (0, 0, 0) normal (0, 1, 0) of "Extrude6"
sketch "Sketch7" plane through (0, 0, 31.75) normal (0, 0, 1) x (-1, 0, 0)
  line L0 (3.81, 19.05) -> (3.81, -19.05)
  line L1 (3.81, -19.05) -> (31.75, -19.05)
  line L2 (31.75, -19.05) -> (31.75, 19.05)
  line L3 (31.75, 19.05) -> (3.81, 19.05)
  circle A0 centre (21.59, -8.89) radius 3.81
  dimension "d46" = 7.62
  dimension "d47" = 10.16
  dimension "d48" = 10.16
extrude "Extrude7" add sketch "Sketch7" along normal blind 7.62 separate body contours A0 makes body 2
sketch "Sketch8" plane through (0, -19.05, 0) normal (0, -1, 0) x (1, 0, 0)
  line L0 (-31.75, 6.35) -> (-3.81, 6.35)
  line L1 (-3.81, 6.35) -> (-3.81, 31.75)
  line L2 (-3.81, 31.75) -> (-31.75, 31.75)
  line L3 (-31.75, 31.75) -> (-31.75, 6.35)
  line L4 (-6.35, 29.21) -> (-29.21, 29.21)
  line L5 (-29.21, 29.21) -> (-29.21, 8.89)
  line L6 (-29.21, 8.89) -> (-6.35, 8.89)
  line L7 (-6.35, 8.89) -> (-6.35, 29.21)
  dimension "d51" = 2.54
  dimension "d52" = 2.54
  dimension "d54" = 2.54
  dimension "d55" = 2.54
extrude "Extrude8" add sketch "Sketch8" along normal blind 1.27 contours L4 L5 L6 L7 bodies 1
sketch "Sketch9" plane through (0, -20.32, 0) normal (0, -1, 0) x (1, 0, 0)
  line L0 (-6.35, 8.89) -> (-6.35, 29.21)
  line L1 (-6.35, 29.21) -> (-29.21, 29.21)
  line L2 (-29.21, 29.21) -> (-29.21, 8.89)
  line L3 (-29.21, 8.89) -> (-6.35, 8.89)
  line L4 (-10.16, 21.59) -> (-8.89, 21.59)
  line L5 (-8.89, 21.59) -> (-8.89, 16.51)
  line L6 (-8.89, 16.51) -> (-10.16, 16.51)
  line L7 (-10.16, 16.51) -> (-10.16, 21.59)
  dimension "d58" = 5.08
  dimension "d59" = 1.27
  dimension "d60" = 7.62
  dimension "d61" = 2.54
extrude "Extrude9" add sketch "Sketch9" along normal blind 0.508 contours L4 L5 L6 L7 bodies 1
mirror "Mirror4" about plane through (0, 0, 0) normal (0, 1, 0) of "Extrude8", "Extrude9"
fillet "Fillet2" radius 1.27 21 edges at (31.75, 12.7, 16.51) (31.75, 0, 26.67) (13.97, -12.7, 26.67) (13.97, 12.7, 26.67) (-3.81, 0, 31.75) (-17.78, 19.05, 31.75) (-31.75, 0, 31.75) (-17.78, -19.05, 31.75) (31.75, 17.78, 6.35) (31.0061, 24.6561, 6.35) (0, 25.4, 6.35) (-31.0061, 24.6561, 6.35) (-31.75, 20.955, 6.35) (-31.75, -20.955, 6.35) (-31.0061, -24.6561, 6.35) (0, -25.4, 6.35) (31.0061, -24.6561, 6.35) (31.75, -17.78, 6.35) (31.75, -12.7, 16.51) (-3.81, -19.05, 19.05) (-3.81, 19.05, 19.05) on bodies 1
fillet "Fillet3" radius 1.27 1 edges at (-18.0378, 10.2678, 39.37) on bodies 2
fillet "Fillet4" radius 1.27 4 edges at (-6.35, 19.685, 29.21) (-6.35, 19.685, 8.89) (-29.21, 19.685, 29.21) (-29.21, 19.685, 8.89) on bodies 1
fillet "Fillet5" radius 1.27 4 edges at (-29.21, -19.685, 29.21) (-6.35, -19.685, 29.21) (-29.21, -19.685, 8.89) (-6.35, -19.685, 8.89) on bodies 1
fillet "Fillet6" radius 1.27 4 edges at (-1.27, -13.335, 24.765) (26.67, -13.335, 24.765) (26.67, -13.335, 6.985) (-1.27, -13.335, 6.985) on bodies 1
fillet "Fillet7" radius 1.27 4 edges at (26.67, 13.335, 24.765) (26.67, 13.335, 6.985) (-1.27, 13.335, 6.985) (-1.27, 13.335, 24.765) on bodies 1
